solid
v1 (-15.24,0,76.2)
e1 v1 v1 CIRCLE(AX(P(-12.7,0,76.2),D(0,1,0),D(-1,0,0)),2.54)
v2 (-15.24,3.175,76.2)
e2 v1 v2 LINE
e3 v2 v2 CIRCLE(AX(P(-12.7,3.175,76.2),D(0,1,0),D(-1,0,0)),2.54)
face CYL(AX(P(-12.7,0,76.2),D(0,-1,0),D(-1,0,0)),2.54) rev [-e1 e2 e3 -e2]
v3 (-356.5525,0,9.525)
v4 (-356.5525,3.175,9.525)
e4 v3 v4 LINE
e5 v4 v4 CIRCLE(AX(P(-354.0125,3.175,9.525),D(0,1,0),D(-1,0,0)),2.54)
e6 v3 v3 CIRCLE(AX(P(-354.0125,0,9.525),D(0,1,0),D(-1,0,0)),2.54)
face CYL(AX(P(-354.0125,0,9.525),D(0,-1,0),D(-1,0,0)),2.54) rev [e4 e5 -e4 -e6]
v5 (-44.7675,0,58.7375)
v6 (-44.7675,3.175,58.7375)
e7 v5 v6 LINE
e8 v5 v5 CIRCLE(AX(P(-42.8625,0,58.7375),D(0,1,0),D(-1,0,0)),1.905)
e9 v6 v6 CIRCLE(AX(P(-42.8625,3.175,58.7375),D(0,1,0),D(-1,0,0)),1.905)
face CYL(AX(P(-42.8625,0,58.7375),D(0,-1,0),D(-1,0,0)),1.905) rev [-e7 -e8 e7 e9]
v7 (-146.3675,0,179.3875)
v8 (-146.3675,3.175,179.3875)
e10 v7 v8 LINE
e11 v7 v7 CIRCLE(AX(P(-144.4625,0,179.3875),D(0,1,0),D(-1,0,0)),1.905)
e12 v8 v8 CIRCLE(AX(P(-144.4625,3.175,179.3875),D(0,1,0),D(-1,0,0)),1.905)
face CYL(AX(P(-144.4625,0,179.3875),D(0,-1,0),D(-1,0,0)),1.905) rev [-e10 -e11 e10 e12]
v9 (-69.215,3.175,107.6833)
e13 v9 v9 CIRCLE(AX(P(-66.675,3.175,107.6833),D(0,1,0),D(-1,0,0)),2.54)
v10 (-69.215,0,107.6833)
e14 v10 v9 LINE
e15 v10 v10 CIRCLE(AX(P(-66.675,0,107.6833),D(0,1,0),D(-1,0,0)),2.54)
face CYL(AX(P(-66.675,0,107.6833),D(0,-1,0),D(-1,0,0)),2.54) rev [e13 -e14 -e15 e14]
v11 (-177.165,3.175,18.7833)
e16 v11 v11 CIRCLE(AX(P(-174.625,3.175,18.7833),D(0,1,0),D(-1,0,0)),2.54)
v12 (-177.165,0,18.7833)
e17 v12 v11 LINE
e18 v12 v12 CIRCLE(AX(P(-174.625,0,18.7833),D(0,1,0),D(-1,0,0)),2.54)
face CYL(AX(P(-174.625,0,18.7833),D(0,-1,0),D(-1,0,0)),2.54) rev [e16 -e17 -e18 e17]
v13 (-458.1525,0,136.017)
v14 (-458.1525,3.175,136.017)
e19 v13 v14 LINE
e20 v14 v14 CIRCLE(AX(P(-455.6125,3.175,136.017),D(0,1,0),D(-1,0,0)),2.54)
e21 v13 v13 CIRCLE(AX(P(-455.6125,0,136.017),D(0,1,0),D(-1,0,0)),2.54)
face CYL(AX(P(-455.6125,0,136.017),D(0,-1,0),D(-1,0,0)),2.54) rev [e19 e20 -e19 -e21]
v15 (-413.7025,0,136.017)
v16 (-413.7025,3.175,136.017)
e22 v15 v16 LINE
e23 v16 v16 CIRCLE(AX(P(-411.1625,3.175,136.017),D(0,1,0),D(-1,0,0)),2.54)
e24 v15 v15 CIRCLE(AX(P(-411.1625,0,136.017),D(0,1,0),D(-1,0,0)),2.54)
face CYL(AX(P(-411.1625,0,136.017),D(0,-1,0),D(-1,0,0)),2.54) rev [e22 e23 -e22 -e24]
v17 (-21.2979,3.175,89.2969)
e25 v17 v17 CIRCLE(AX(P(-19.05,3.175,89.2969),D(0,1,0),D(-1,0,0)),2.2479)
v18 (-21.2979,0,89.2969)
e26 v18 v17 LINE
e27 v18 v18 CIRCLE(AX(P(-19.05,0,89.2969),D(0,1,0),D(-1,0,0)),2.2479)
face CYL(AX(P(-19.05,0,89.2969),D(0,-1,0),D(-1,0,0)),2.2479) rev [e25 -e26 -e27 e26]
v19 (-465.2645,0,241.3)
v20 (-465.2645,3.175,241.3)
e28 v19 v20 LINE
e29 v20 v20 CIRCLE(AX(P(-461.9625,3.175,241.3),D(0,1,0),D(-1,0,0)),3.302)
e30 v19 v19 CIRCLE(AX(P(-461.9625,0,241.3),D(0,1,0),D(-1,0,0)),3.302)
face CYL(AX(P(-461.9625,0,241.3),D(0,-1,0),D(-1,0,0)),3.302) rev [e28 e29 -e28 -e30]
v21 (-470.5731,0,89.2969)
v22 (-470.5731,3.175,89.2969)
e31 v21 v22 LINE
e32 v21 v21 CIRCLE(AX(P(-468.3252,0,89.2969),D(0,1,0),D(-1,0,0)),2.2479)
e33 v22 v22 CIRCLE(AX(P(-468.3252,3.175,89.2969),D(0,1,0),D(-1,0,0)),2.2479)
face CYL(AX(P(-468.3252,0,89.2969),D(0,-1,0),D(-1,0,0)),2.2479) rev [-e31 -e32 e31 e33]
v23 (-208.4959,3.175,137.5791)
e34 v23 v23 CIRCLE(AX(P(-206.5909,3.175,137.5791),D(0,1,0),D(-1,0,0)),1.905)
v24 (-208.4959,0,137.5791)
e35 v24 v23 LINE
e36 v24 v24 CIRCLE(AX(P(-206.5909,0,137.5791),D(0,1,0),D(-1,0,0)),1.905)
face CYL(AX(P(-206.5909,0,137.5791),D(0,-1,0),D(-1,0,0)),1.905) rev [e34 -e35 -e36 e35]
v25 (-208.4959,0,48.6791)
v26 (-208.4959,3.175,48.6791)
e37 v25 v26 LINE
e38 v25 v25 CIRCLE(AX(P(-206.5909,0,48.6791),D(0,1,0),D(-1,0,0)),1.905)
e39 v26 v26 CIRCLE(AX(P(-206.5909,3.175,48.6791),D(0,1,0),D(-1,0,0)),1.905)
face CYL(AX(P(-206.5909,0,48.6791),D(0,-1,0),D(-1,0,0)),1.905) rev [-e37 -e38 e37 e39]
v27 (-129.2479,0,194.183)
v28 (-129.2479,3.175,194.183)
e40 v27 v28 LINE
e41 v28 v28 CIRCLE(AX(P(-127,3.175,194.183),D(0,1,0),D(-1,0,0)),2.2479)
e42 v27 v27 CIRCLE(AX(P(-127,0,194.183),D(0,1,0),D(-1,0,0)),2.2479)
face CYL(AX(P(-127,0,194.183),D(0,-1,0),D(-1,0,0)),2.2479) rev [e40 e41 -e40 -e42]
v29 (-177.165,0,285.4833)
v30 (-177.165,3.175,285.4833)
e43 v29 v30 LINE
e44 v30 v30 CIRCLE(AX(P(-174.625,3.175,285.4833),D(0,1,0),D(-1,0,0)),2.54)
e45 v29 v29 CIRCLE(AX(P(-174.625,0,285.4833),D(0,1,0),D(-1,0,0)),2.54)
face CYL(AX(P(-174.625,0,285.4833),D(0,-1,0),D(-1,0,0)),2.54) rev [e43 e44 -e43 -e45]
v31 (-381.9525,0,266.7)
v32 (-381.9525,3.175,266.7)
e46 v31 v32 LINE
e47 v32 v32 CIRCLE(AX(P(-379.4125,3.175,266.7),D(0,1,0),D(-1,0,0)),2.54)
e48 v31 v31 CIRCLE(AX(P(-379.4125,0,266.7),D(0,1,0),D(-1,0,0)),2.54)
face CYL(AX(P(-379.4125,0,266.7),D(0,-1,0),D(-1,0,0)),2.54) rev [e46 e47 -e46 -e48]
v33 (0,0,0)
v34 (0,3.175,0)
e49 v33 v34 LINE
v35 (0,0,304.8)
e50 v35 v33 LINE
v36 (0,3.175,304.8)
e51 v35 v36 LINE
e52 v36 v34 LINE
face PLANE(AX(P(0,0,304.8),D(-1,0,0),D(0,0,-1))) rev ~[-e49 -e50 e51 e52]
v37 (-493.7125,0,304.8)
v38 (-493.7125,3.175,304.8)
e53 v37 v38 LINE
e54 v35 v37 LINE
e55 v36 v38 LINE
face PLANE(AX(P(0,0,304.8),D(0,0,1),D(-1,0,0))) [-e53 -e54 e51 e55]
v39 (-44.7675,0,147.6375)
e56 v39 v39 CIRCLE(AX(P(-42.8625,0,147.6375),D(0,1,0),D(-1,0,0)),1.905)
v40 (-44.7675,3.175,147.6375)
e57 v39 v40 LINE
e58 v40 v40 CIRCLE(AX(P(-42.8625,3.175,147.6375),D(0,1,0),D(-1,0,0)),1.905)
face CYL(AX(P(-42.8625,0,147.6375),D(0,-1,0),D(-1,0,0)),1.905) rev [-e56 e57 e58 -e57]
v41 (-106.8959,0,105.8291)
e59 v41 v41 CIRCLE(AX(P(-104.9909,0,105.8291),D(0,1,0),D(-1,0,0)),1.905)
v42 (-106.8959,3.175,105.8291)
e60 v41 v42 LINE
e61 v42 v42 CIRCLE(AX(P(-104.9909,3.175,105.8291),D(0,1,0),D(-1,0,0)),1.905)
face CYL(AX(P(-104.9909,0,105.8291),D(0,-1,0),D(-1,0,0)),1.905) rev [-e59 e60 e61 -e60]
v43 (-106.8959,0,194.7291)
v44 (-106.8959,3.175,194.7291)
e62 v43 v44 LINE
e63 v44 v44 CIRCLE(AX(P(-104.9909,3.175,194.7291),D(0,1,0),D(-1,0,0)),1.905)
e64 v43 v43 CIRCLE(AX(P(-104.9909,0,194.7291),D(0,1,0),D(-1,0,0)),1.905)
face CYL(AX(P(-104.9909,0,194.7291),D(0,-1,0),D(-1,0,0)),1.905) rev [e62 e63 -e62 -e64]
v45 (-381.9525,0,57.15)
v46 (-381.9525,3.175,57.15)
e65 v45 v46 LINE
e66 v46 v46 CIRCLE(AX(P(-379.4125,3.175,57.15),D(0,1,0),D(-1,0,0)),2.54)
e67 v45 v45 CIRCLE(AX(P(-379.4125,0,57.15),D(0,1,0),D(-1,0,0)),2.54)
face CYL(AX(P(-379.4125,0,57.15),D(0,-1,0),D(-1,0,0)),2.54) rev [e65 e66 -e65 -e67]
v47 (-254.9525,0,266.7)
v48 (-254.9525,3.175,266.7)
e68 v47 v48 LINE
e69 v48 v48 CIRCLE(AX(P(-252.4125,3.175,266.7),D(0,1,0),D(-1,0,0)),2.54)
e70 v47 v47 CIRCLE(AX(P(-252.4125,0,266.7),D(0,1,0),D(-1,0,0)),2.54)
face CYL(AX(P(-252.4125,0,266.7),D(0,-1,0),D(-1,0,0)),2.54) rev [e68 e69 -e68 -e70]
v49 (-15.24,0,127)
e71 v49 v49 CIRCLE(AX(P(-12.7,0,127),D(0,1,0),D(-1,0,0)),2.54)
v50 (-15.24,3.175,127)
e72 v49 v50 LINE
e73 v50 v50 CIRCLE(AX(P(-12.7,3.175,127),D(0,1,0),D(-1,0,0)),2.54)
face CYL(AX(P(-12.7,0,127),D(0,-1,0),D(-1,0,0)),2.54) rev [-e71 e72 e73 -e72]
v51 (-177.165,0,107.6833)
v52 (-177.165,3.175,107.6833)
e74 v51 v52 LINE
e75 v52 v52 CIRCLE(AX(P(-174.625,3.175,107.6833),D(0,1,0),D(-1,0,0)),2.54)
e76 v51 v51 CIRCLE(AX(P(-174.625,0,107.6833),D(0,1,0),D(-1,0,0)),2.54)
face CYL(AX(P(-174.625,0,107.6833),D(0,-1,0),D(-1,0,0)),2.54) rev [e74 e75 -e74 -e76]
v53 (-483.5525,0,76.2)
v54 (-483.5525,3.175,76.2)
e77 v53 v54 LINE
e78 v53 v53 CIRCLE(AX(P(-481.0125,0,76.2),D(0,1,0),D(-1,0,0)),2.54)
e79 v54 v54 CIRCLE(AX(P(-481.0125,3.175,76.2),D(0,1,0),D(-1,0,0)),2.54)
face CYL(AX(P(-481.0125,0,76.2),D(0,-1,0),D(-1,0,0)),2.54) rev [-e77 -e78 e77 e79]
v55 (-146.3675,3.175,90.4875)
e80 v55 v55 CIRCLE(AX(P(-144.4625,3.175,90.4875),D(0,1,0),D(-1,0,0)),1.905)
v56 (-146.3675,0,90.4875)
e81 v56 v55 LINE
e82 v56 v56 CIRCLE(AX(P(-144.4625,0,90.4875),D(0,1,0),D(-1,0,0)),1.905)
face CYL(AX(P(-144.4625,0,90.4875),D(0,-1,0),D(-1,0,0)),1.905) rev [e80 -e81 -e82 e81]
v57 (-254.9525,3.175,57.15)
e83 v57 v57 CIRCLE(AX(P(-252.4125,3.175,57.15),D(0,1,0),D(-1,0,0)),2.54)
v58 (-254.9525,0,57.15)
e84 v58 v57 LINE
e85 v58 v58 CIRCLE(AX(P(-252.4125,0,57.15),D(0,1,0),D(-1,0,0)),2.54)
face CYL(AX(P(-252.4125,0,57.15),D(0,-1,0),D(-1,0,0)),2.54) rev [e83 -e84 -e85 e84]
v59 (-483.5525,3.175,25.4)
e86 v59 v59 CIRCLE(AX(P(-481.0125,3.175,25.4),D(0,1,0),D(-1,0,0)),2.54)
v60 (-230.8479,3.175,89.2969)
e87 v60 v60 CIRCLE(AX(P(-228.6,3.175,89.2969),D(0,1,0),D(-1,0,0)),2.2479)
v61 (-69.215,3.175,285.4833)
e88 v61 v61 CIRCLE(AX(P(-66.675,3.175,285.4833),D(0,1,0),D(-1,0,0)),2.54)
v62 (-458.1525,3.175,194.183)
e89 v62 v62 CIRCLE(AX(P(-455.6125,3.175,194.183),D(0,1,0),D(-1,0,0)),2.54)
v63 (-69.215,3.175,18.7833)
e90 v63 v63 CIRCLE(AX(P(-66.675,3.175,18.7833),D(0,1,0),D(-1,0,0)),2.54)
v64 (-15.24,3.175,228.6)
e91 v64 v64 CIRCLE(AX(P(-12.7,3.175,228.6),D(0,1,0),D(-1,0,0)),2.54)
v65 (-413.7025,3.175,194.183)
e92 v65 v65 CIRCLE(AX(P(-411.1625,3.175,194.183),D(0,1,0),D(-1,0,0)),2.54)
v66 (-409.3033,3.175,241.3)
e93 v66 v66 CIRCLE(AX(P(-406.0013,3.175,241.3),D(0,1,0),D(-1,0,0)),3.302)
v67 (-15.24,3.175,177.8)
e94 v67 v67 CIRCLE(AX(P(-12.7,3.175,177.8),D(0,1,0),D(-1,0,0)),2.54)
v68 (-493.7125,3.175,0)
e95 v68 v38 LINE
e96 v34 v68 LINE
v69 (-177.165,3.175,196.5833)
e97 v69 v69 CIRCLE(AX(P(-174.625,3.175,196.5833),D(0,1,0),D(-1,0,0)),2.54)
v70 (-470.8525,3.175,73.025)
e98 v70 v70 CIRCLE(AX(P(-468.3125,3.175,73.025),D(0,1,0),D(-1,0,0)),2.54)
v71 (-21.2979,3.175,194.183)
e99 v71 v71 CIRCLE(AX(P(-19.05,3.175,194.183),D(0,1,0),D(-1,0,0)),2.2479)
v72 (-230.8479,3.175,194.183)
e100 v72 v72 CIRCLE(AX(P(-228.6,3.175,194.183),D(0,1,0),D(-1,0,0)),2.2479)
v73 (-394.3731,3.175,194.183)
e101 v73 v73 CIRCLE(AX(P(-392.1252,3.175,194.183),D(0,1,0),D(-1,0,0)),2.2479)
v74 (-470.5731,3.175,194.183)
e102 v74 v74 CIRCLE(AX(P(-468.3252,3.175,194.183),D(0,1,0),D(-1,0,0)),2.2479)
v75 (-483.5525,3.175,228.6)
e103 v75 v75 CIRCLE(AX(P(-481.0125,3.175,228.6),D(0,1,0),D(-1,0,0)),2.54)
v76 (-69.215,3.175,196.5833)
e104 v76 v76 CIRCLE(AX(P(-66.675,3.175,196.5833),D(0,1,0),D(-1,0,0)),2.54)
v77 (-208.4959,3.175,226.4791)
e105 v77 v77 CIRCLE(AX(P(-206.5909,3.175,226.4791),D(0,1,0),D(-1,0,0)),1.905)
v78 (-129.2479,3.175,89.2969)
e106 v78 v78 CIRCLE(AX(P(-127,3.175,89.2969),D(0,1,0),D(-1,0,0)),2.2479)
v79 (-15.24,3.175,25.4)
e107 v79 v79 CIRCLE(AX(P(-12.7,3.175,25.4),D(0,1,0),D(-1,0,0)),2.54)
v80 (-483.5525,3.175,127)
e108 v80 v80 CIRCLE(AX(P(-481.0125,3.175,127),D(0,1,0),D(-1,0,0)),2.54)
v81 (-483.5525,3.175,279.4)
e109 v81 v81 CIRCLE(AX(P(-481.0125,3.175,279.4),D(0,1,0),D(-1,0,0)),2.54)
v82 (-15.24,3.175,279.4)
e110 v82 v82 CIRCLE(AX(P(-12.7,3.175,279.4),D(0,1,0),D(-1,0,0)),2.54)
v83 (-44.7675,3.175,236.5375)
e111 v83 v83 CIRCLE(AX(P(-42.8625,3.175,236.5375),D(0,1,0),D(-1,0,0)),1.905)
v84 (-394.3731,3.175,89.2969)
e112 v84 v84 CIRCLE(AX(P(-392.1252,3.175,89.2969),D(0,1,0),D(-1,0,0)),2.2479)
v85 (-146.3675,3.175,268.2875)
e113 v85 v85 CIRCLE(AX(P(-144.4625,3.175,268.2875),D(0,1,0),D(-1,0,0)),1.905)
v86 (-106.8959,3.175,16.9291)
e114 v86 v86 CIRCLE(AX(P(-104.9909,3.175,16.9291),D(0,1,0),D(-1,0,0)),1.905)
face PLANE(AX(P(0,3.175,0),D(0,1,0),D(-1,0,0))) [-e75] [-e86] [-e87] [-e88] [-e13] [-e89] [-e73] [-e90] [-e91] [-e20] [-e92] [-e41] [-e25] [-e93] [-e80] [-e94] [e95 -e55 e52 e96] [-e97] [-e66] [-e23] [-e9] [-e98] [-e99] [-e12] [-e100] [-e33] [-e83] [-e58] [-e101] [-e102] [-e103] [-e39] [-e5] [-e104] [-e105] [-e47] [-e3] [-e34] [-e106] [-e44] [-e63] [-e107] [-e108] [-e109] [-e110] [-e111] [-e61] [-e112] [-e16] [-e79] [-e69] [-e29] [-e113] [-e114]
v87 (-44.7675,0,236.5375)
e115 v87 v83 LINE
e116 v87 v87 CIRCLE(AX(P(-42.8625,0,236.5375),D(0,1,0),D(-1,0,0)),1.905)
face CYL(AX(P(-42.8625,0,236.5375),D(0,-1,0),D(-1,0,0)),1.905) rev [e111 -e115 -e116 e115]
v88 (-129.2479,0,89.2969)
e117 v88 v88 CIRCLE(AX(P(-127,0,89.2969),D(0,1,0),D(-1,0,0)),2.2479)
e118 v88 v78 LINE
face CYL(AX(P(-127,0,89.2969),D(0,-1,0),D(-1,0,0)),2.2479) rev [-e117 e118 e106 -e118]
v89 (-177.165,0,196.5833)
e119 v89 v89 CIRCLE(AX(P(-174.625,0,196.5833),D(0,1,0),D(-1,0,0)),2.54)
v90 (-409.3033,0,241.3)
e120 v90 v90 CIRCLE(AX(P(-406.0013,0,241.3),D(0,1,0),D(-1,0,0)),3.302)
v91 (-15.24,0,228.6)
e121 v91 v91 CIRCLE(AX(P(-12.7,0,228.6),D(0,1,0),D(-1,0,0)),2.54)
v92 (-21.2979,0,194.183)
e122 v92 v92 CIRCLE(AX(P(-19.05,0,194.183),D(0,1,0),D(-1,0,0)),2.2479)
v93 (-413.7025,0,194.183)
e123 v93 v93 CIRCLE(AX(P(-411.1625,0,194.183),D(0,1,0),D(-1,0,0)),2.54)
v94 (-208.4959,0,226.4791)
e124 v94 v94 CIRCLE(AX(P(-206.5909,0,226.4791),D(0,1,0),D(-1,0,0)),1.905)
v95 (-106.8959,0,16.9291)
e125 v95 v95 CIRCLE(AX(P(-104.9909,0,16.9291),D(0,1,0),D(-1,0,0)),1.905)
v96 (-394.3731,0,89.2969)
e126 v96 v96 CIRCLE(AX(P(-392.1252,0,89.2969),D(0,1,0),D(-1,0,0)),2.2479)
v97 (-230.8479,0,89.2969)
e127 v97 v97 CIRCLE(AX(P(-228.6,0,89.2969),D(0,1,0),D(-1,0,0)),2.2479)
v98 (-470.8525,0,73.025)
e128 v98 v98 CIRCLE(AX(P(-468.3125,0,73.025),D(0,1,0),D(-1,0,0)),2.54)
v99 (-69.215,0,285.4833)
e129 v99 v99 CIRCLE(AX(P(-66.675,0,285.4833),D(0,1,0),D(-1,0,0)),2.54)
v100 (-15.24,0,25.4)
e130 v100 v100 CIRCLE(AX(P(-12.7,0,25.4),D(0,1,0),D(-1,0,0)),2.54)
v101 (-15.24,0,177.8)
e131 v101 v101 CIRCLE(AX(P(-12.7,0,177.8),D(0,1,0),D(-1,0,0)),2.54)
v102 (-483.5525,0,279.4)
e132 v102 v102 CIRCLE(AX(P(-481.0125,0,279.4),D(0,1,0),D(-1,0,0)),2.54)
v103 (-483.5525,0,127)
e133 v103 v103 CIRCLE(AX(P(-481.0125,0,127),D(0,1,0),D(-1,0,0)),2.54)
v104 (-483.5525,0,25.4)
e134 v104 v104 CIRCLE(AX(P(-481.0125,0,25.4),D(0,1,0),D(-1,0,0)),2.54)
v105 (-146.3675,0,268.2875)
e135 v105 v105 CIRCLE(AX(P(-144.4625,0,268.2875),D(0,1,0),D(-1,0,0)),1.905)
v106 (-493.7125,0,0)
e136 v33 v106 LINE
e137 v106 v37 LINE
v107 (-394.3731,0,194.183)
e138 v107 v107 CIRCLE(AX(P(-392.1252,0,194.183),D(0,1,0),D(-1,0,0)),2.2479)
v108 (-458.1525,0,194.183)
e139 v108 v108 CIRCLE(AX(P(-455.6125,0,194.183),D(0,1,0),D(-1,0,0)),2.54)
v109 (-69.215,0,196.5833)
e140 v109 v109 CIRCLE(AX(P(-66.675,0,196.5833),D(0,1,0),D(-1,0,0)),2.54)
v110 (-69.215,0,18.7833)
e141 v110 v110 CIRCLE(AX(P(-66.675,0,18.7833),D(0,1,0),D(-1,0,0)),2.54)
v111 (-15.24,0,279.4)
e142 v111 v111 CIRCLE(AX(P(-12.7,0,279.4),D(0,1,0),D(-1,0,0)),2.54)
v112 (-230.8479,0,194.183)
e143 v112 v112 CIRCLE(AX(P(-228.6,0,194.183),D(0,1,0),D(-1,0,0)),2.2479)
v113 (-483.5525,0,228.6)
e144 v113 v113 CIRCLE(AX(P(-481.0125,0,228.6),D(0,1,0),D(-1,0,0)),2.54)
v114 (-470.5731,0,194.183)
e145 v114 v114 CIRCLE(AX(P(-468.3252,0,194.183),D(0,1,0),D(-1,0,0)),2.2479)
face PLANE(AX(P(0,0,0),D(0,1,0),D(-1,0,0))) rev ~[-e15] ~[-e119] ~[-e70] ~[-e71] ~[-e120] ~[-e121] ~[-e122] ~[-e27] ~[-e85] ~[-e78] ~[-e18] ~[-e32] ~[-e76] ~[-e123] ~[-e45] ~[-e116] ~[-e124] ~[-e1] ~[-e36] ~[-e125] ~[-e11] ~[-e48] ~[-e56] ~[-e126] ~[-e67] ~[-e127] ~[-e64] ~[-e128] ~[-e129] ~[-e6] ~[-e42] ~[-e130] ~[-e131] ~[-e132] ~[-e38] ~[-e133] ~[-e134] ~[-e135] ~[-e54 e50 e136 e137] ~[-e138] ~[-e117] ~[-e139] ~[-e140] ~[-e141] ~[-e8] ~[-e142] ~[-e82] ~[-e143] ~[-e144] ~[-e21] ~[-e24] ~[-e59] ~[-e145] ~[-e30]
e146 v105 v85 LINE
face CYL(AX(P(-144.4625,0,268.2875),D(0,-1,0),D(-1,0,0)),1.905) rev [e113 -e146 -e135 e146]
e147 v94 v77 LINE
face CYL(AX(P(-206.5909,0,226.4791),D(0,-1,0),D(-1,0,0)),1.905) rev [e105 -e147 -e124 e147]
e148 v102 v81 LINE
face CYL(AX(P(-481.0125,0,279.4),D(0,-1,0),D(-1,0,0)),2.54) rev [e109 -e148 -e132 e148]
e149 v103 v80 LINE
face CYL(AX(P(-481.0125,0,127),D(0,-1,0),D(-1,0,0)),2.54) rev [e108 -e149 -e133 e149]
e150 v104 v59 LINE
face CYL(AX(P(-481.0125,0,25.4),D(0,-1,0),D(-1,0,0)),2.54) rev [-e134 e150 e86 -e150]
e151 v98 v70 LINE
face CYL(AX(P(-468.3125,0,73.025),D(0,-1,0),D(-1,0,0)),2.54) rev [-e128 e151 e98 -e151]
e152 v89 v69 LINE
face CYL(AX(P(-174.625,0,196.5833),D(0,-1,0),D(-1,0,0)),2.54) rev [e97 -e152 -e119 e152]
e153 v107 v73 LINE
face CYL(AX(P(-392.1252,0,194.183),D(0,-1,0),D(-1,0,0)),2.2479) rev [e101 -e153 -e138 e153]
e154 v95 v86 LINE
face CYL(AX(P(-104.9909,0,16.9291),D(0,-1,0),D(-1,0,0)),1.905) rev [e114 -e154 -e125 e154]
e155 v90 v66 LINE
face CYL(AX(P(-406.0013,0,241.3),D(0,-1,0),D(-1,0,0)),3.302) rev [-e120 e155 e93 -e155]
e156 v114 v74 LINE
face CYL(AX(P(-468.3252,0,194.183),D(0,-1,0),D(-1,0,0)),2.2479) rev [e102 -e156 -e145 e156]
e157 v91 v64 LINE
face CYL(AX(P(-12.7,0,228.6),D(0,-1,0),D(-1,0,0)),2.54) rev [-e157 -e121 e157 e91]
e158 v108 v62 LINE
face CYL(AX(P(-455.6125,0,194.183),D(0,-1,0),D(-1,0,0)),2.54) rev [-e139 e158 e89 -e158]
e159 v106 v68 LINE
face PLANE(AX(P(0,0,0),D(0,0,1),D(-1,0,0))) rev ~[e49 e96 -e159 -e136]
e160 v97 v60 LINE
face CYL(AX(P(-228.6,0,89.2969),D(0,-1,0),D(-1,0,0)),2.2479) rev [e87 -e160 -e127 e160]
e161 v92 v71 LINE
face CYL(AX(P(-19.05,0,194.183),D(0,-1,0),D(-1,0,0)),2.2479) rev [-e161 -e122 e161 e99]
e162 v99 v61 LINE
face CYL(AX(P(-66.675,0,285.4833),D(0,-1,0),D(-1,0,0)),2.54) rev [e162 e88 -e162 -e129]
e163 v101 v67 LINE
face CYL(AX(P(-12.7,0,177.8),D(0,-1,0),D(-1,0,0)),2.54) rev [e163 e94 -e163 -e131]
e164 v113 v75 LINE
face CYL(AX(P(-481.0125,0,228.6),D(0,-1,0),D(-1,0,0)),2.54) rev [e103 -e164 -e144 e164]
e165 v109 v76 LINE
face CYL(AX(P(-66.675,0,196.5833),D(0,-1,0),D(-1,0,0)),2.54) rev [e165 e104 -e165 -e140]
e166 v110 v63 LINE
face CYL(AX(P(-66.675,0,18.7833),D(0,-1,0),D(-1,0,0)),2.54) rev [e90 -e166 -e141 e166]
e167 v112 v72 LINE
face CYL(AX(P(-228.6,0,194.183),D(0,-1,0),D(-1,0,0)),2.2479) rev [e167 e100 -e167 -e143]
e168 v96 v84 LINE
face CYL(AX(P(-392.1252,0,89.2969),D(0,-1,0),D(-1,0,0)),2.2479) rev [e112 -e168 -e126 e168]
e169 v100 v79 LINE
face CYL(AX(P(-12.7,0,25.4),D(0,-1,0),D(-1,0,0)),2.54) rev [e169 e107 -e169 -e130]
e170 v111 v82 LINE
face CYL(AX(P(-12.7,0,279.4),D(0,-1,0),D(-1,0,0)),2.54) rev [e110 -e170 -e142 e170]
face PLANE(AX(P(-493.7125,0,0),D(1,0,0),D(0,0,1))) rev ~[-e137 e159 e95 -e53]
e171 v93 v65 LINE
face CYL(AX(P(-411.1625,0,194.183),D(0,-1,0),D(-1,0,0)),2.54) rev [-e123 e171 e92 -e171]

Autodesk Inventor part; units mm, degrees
ref_plane "YZ Plane" through (0, 0, 0) normal (1, 0, 0) x (0, 1, 0)
ref_plane "XZ Plane" through (0, 0, 0) normal (0, 1, 0) x (-1, 0, 0)
ref_plane "XY Plane" through (0, 0, 0) normal (0, 0, 1) x (1, 0, 0)
sketch "Sketch1" plane through (0, 0, 0) normal (0, 1, 0) x (-1, 0, 0)
  line L0 (0, 0) -> (493.7125, 0)
  line L1 (493.7125, 0) -> (493.7125, 304.8)
  line L2 (0, 304.8) -> (0, 0)
  line L3 (0, 304.8) -> (493.7125, 304.8)
  circle A0 centre (42.8625, 236.5375) radius 1.905
  circle A1 centre (104.9909, 194.7291) radius 1.905
  line L4 (38.1, 241.3) -> (109.7534, 241.3) construction
  line L5 (109.7534, 241.3) -> (109.7534, 189.9666) construction
  line L6 (109.7534, 189.9666) -> (38.1, 189.9666) construction
  line L7 (38.1, 189.9666) -> (38.1, 241.3) construction
  circle A2 centre (252.4125, 266.7) radius 2.54
  circle A3 centre (379.4125, 266.7) radius 2.54
  circle A4 centre (252.4125, 57.15) radius 2.54
  circle A5 centre (379.4125, 57.15) radius 2.54
  line L8 (252.4125, 266.7) -> (379.4125, 266.7) construction
  line L9 (379.4125, 266.7) -> (379.4125, 57.15) construction
  line L10 (379.4125, 57.15) -> (252.4125, 57.15) construction
  line L11 (252.4125, 266.7) -> (252.4125, 57.15) construction
  line L12 (481.0125, 304.8) -> (481.0125, 0) construction
  circle A6 centre (481.0125, 279.4) radius 2.54
  line L13 (12.7, 304.8) -> (12.7, 0) construction
  circle A7 centre (12.7, 279.4) radius 2.54
  circle A8 centre (481.0125, 228.6) radius 2.54
  circle A9 centre (12.7, 228.6) radius 2.54
  circle A10 centre (481.0125, 177.8) radius 2.54
  circle A11 centre (12.7, 177.8) radius 2.54
  circle A12 centre (481.0125, 127) radius 2.54
  circle A13 centre (12.7, 127) radius 2.54
  circle A14 centre (66.675, 285.4833) radius 2.54
  line L14 (406.0013, 241.3) -> (461.9625, 241.3) construction
  circle A15 centre (406.0013, 241.3) radius 3.302
  circle A16 centre (461.9625, 241.3) radius 3.302
  circle A17 centre (455.6125, 136.017) radius 2.54
  circle A18 centre (455.6125, 194.183) radius 2.54
  circle A19 centre (411.1625, 136.017) radius 2.54
  circle A20 centre (411.1625, 194.183) radius 2.54
  line L15 (455.6125, 136.017) -> (455.6125, 194.183) construction
  line L16 (411.1625, 136.017) -> (411.1625, 194.183) construction
  line L17 (411.1625, 165.1) -> (455.6125, 165.1) construction
  circle A21 centre (468.3125, 9.525) radius 2.54
  circle A22 centre (481.0125, 76.2) radius 2.54
  circle A23 centre (12.7, 76.2) radius 2.54
  circle A24 centre (481.0125, 25.4) radius 2.54
  circle A25 centre (12.7, 25.4) radius 2.54
  circle A26 centre (468.3125, 73.025) radius 2.54
  circle A27 centre (354.0125, 9.525) radius 2.54
  circle A28 centre (354.0125, 73.025) radius 2.54
  circle A29 centre (206.5909, 226.4791) radius 1.905
  circle A30 centre (144.4625, 268.2875) radius 1.905
  line L18 (139.7, 273.05) -> (211.3534, 273.05) construction
  line L19 (211.3534, 273.05) -> (211.3534, 221.7166) construction
  line L20 (211.3534, 221.7166) -> (139.7, 221.7166) construction
  line L21 (139.7, 221.7166) -> (139.7, 273.05) construction
  circle A31 centre (174.625, 285.4833) radius 2.54
  circle A32 centre (66.675, 196.5833) radius 2.54
  circle A33 centre (174.625, 196.5833) radius 2.54
  circle A34 centre (66.675, 107.6833) radius 2.54
  circle A35 centre (174.625, 107.6833) radius 2.54
  circle A36 centre (66.675, 18.7833) radius 2.54
  circle A37 centre (174.625, 18.7833) radius 2.54
  line L22 (144.4625, 268.2875) -> (206.5909, 268.2875) construction
  line L23 (206.5909, 268.2875) -> (206.5909, 226.4791) construction
  line L24 (206.5909, 226.4791) -> (144.4625, 226.4791) construction
  line L25 (144.4625, 226.4791) -> (144.4625, 268.2875) construction
  line L26 (42.8625, 236.5375) -> (104.9909, 236.5375) construction
  line L27 (104.9909, 236.5375) -> (104.9909, 194.7291) construction
  line L28 (104.9909, 194.7291) -> (42.8625, 194.7291) construction
  line L29 (42.8625, 194.7291) -> (42.8625, 236.5375) construction
  circle A38 centre (42.8625, 147.6375) radius 1.905
  circle A39 centre (104.9909, 105.8291) radius 1.905
  line L30 (38.1, 152.4) -> (109.7534, 152.4) construction
  line L31 (109.7534, 152.4) -> (109.7534, 101.0666) construction
  line L32 (109.7534, 101.0666) -> (38.1, 101.0666) construction
  line L33 (38.1, 101.0666) -> (38.1, 152.4) construction
  circle A40 centre (42.8625, 58.7375) radius 1.905
  circle A41 centre (104.9909, 16.9291) radius 1.905
  line L34 (38.1, 63.5) -> (109.7534, 63.5) construction
  line L35 (109.7534, 63.5) -> (109.7534, 12.1666) construction
  line L36 (109.7534, 12.1666) -> (38.1, 12.1666) construction
  line L37 (38.1, 12.1666) -> (38.1, 63.5) construction
  circle A42 centre (206.5909, 137.5791) radius 1.905
  circle A43 centre (144.4625, 179.3875) radius 1.905
  line L38 (139.7, 184.15) -> (211.3534, 184.15) construction
  line L39 (211.3534, 184.15) -> (211.3534, 132.8166) construction
  line L40 (211.3534, 132.8166) -> (139.7, 132.8166) construction
  line L41 (139.7, 132.8166) -> (139.7, 184.15) construction
  circle A44 centre (206.5909, 48.6791) radius 1.905
  circle A45 centre (144.4625, 90.4875) radius 1.905
  line L42 (139.7, 95.25) -> (211.3534, 95.25) construction
  line L43 (211.3534, 95.25) -> (211.3534, 43.9166) construction
  line L44 (211.3534, 43.9166) -> (139.7, 43.9166) construction
  line L45 (139.7, 43.9166) -> (139.7, 95.25) construction
  circle A46 centre (19.05, 194.183) radius 2.2479 projected
  circle A47 centre (127, 194.183) radius 2.2479 projected
  circle A48 centre (228.6, 194.183) radius 2.2479 projected
  circle A49 centre (392.1252, 194.183) radius 2.2479 projected
  circle A50 centre (468.3252, 194.183) radius 2.2479 projected
  circle A51 centre (468.3252, 89.2969) radius 2.2479 projected
  circle A52 centre (392.1252, 89.2969) radius 2.2479 projected
  circle A53 centre (228.6, 89.2969) radius 2.2479 projected
  circle A54 centre (127, 89.2969) radius 2.2479 projected
  circle A55 centre (19.05, 89.2969) radius 2.2479 projected
  dimension "d0" = 304.8
  dimension "d4" = 493.7125
  dimension "d11" = 4.7625
  dimension "d12" = 4.7625
  dimension "d13" = 4.7625
  dimension "d14" = 4.7625
  dimension "d15" = 63.5
  dimension "d17" = 209.55
  dimension "d18" = 127
  dimension "d20" = 114.3
  dimension "d21" = 57.15
  dimension "d32" = 12.7
  dimension "d33" = 5.08
  dimension "d34" = 25.4
  dimension "d35" = 12.7
  dimension "d37" = 25.4
  dimension "d43" = 50.8
  dimension "d57" = 55.9612
  dimension "d59" = 241.3
  dimension "d67" = 165.1
  dimension "d68" = 31.75
  dimension "d69" = 58.166
  dimension "d70" = 44.45
  dimension "d71" = 25.4
  dimension "d81" = 5.08
  dimension "d85" = 9.525
  dimension "d88" = 63.5
  dimension "d91" = 114.3
  dimension "d94" = 25.4
  dimension "d96" = 4.7625
  dimension "d97" = 4.7625
  dimension "d98" = 4.7625
  dimension "d99" = 4.7625
  dimension "d100" = 31.75
  dimension "d103" = 19.3167
  dimension "d104" = 66.675
  dimension "d107" = 107.95
  dimension "d110" = 88.9
  dimension "d113" = 41.8084
  dimension "d114" = 62.1284
  dimension "d115" = 3.81
  dimension "d116" = 101.6
  dimension "d117" = 5.08
  dimension "d118" = 6.604
  dimension "d119" = 5.08
  dimension "d120" = 38.1
  dimension "d121" = 5.08
  dimension "d124" = 88.9
  dimension "d131" = 88.9
extrude "Extrusion1" add sketch "Sketch1" along normal blind 3.175 contours L2 L3 L1 L0 | A10 | A21 | A28
equation "\"d11\" = d12"
equation "\"d13\" = d12"
equation "\"d14\" = d12"
equation "\"d37\" = d34"
properties part number "Rebuild Mounting Board 1" material "Polycarbonate, Clear"
